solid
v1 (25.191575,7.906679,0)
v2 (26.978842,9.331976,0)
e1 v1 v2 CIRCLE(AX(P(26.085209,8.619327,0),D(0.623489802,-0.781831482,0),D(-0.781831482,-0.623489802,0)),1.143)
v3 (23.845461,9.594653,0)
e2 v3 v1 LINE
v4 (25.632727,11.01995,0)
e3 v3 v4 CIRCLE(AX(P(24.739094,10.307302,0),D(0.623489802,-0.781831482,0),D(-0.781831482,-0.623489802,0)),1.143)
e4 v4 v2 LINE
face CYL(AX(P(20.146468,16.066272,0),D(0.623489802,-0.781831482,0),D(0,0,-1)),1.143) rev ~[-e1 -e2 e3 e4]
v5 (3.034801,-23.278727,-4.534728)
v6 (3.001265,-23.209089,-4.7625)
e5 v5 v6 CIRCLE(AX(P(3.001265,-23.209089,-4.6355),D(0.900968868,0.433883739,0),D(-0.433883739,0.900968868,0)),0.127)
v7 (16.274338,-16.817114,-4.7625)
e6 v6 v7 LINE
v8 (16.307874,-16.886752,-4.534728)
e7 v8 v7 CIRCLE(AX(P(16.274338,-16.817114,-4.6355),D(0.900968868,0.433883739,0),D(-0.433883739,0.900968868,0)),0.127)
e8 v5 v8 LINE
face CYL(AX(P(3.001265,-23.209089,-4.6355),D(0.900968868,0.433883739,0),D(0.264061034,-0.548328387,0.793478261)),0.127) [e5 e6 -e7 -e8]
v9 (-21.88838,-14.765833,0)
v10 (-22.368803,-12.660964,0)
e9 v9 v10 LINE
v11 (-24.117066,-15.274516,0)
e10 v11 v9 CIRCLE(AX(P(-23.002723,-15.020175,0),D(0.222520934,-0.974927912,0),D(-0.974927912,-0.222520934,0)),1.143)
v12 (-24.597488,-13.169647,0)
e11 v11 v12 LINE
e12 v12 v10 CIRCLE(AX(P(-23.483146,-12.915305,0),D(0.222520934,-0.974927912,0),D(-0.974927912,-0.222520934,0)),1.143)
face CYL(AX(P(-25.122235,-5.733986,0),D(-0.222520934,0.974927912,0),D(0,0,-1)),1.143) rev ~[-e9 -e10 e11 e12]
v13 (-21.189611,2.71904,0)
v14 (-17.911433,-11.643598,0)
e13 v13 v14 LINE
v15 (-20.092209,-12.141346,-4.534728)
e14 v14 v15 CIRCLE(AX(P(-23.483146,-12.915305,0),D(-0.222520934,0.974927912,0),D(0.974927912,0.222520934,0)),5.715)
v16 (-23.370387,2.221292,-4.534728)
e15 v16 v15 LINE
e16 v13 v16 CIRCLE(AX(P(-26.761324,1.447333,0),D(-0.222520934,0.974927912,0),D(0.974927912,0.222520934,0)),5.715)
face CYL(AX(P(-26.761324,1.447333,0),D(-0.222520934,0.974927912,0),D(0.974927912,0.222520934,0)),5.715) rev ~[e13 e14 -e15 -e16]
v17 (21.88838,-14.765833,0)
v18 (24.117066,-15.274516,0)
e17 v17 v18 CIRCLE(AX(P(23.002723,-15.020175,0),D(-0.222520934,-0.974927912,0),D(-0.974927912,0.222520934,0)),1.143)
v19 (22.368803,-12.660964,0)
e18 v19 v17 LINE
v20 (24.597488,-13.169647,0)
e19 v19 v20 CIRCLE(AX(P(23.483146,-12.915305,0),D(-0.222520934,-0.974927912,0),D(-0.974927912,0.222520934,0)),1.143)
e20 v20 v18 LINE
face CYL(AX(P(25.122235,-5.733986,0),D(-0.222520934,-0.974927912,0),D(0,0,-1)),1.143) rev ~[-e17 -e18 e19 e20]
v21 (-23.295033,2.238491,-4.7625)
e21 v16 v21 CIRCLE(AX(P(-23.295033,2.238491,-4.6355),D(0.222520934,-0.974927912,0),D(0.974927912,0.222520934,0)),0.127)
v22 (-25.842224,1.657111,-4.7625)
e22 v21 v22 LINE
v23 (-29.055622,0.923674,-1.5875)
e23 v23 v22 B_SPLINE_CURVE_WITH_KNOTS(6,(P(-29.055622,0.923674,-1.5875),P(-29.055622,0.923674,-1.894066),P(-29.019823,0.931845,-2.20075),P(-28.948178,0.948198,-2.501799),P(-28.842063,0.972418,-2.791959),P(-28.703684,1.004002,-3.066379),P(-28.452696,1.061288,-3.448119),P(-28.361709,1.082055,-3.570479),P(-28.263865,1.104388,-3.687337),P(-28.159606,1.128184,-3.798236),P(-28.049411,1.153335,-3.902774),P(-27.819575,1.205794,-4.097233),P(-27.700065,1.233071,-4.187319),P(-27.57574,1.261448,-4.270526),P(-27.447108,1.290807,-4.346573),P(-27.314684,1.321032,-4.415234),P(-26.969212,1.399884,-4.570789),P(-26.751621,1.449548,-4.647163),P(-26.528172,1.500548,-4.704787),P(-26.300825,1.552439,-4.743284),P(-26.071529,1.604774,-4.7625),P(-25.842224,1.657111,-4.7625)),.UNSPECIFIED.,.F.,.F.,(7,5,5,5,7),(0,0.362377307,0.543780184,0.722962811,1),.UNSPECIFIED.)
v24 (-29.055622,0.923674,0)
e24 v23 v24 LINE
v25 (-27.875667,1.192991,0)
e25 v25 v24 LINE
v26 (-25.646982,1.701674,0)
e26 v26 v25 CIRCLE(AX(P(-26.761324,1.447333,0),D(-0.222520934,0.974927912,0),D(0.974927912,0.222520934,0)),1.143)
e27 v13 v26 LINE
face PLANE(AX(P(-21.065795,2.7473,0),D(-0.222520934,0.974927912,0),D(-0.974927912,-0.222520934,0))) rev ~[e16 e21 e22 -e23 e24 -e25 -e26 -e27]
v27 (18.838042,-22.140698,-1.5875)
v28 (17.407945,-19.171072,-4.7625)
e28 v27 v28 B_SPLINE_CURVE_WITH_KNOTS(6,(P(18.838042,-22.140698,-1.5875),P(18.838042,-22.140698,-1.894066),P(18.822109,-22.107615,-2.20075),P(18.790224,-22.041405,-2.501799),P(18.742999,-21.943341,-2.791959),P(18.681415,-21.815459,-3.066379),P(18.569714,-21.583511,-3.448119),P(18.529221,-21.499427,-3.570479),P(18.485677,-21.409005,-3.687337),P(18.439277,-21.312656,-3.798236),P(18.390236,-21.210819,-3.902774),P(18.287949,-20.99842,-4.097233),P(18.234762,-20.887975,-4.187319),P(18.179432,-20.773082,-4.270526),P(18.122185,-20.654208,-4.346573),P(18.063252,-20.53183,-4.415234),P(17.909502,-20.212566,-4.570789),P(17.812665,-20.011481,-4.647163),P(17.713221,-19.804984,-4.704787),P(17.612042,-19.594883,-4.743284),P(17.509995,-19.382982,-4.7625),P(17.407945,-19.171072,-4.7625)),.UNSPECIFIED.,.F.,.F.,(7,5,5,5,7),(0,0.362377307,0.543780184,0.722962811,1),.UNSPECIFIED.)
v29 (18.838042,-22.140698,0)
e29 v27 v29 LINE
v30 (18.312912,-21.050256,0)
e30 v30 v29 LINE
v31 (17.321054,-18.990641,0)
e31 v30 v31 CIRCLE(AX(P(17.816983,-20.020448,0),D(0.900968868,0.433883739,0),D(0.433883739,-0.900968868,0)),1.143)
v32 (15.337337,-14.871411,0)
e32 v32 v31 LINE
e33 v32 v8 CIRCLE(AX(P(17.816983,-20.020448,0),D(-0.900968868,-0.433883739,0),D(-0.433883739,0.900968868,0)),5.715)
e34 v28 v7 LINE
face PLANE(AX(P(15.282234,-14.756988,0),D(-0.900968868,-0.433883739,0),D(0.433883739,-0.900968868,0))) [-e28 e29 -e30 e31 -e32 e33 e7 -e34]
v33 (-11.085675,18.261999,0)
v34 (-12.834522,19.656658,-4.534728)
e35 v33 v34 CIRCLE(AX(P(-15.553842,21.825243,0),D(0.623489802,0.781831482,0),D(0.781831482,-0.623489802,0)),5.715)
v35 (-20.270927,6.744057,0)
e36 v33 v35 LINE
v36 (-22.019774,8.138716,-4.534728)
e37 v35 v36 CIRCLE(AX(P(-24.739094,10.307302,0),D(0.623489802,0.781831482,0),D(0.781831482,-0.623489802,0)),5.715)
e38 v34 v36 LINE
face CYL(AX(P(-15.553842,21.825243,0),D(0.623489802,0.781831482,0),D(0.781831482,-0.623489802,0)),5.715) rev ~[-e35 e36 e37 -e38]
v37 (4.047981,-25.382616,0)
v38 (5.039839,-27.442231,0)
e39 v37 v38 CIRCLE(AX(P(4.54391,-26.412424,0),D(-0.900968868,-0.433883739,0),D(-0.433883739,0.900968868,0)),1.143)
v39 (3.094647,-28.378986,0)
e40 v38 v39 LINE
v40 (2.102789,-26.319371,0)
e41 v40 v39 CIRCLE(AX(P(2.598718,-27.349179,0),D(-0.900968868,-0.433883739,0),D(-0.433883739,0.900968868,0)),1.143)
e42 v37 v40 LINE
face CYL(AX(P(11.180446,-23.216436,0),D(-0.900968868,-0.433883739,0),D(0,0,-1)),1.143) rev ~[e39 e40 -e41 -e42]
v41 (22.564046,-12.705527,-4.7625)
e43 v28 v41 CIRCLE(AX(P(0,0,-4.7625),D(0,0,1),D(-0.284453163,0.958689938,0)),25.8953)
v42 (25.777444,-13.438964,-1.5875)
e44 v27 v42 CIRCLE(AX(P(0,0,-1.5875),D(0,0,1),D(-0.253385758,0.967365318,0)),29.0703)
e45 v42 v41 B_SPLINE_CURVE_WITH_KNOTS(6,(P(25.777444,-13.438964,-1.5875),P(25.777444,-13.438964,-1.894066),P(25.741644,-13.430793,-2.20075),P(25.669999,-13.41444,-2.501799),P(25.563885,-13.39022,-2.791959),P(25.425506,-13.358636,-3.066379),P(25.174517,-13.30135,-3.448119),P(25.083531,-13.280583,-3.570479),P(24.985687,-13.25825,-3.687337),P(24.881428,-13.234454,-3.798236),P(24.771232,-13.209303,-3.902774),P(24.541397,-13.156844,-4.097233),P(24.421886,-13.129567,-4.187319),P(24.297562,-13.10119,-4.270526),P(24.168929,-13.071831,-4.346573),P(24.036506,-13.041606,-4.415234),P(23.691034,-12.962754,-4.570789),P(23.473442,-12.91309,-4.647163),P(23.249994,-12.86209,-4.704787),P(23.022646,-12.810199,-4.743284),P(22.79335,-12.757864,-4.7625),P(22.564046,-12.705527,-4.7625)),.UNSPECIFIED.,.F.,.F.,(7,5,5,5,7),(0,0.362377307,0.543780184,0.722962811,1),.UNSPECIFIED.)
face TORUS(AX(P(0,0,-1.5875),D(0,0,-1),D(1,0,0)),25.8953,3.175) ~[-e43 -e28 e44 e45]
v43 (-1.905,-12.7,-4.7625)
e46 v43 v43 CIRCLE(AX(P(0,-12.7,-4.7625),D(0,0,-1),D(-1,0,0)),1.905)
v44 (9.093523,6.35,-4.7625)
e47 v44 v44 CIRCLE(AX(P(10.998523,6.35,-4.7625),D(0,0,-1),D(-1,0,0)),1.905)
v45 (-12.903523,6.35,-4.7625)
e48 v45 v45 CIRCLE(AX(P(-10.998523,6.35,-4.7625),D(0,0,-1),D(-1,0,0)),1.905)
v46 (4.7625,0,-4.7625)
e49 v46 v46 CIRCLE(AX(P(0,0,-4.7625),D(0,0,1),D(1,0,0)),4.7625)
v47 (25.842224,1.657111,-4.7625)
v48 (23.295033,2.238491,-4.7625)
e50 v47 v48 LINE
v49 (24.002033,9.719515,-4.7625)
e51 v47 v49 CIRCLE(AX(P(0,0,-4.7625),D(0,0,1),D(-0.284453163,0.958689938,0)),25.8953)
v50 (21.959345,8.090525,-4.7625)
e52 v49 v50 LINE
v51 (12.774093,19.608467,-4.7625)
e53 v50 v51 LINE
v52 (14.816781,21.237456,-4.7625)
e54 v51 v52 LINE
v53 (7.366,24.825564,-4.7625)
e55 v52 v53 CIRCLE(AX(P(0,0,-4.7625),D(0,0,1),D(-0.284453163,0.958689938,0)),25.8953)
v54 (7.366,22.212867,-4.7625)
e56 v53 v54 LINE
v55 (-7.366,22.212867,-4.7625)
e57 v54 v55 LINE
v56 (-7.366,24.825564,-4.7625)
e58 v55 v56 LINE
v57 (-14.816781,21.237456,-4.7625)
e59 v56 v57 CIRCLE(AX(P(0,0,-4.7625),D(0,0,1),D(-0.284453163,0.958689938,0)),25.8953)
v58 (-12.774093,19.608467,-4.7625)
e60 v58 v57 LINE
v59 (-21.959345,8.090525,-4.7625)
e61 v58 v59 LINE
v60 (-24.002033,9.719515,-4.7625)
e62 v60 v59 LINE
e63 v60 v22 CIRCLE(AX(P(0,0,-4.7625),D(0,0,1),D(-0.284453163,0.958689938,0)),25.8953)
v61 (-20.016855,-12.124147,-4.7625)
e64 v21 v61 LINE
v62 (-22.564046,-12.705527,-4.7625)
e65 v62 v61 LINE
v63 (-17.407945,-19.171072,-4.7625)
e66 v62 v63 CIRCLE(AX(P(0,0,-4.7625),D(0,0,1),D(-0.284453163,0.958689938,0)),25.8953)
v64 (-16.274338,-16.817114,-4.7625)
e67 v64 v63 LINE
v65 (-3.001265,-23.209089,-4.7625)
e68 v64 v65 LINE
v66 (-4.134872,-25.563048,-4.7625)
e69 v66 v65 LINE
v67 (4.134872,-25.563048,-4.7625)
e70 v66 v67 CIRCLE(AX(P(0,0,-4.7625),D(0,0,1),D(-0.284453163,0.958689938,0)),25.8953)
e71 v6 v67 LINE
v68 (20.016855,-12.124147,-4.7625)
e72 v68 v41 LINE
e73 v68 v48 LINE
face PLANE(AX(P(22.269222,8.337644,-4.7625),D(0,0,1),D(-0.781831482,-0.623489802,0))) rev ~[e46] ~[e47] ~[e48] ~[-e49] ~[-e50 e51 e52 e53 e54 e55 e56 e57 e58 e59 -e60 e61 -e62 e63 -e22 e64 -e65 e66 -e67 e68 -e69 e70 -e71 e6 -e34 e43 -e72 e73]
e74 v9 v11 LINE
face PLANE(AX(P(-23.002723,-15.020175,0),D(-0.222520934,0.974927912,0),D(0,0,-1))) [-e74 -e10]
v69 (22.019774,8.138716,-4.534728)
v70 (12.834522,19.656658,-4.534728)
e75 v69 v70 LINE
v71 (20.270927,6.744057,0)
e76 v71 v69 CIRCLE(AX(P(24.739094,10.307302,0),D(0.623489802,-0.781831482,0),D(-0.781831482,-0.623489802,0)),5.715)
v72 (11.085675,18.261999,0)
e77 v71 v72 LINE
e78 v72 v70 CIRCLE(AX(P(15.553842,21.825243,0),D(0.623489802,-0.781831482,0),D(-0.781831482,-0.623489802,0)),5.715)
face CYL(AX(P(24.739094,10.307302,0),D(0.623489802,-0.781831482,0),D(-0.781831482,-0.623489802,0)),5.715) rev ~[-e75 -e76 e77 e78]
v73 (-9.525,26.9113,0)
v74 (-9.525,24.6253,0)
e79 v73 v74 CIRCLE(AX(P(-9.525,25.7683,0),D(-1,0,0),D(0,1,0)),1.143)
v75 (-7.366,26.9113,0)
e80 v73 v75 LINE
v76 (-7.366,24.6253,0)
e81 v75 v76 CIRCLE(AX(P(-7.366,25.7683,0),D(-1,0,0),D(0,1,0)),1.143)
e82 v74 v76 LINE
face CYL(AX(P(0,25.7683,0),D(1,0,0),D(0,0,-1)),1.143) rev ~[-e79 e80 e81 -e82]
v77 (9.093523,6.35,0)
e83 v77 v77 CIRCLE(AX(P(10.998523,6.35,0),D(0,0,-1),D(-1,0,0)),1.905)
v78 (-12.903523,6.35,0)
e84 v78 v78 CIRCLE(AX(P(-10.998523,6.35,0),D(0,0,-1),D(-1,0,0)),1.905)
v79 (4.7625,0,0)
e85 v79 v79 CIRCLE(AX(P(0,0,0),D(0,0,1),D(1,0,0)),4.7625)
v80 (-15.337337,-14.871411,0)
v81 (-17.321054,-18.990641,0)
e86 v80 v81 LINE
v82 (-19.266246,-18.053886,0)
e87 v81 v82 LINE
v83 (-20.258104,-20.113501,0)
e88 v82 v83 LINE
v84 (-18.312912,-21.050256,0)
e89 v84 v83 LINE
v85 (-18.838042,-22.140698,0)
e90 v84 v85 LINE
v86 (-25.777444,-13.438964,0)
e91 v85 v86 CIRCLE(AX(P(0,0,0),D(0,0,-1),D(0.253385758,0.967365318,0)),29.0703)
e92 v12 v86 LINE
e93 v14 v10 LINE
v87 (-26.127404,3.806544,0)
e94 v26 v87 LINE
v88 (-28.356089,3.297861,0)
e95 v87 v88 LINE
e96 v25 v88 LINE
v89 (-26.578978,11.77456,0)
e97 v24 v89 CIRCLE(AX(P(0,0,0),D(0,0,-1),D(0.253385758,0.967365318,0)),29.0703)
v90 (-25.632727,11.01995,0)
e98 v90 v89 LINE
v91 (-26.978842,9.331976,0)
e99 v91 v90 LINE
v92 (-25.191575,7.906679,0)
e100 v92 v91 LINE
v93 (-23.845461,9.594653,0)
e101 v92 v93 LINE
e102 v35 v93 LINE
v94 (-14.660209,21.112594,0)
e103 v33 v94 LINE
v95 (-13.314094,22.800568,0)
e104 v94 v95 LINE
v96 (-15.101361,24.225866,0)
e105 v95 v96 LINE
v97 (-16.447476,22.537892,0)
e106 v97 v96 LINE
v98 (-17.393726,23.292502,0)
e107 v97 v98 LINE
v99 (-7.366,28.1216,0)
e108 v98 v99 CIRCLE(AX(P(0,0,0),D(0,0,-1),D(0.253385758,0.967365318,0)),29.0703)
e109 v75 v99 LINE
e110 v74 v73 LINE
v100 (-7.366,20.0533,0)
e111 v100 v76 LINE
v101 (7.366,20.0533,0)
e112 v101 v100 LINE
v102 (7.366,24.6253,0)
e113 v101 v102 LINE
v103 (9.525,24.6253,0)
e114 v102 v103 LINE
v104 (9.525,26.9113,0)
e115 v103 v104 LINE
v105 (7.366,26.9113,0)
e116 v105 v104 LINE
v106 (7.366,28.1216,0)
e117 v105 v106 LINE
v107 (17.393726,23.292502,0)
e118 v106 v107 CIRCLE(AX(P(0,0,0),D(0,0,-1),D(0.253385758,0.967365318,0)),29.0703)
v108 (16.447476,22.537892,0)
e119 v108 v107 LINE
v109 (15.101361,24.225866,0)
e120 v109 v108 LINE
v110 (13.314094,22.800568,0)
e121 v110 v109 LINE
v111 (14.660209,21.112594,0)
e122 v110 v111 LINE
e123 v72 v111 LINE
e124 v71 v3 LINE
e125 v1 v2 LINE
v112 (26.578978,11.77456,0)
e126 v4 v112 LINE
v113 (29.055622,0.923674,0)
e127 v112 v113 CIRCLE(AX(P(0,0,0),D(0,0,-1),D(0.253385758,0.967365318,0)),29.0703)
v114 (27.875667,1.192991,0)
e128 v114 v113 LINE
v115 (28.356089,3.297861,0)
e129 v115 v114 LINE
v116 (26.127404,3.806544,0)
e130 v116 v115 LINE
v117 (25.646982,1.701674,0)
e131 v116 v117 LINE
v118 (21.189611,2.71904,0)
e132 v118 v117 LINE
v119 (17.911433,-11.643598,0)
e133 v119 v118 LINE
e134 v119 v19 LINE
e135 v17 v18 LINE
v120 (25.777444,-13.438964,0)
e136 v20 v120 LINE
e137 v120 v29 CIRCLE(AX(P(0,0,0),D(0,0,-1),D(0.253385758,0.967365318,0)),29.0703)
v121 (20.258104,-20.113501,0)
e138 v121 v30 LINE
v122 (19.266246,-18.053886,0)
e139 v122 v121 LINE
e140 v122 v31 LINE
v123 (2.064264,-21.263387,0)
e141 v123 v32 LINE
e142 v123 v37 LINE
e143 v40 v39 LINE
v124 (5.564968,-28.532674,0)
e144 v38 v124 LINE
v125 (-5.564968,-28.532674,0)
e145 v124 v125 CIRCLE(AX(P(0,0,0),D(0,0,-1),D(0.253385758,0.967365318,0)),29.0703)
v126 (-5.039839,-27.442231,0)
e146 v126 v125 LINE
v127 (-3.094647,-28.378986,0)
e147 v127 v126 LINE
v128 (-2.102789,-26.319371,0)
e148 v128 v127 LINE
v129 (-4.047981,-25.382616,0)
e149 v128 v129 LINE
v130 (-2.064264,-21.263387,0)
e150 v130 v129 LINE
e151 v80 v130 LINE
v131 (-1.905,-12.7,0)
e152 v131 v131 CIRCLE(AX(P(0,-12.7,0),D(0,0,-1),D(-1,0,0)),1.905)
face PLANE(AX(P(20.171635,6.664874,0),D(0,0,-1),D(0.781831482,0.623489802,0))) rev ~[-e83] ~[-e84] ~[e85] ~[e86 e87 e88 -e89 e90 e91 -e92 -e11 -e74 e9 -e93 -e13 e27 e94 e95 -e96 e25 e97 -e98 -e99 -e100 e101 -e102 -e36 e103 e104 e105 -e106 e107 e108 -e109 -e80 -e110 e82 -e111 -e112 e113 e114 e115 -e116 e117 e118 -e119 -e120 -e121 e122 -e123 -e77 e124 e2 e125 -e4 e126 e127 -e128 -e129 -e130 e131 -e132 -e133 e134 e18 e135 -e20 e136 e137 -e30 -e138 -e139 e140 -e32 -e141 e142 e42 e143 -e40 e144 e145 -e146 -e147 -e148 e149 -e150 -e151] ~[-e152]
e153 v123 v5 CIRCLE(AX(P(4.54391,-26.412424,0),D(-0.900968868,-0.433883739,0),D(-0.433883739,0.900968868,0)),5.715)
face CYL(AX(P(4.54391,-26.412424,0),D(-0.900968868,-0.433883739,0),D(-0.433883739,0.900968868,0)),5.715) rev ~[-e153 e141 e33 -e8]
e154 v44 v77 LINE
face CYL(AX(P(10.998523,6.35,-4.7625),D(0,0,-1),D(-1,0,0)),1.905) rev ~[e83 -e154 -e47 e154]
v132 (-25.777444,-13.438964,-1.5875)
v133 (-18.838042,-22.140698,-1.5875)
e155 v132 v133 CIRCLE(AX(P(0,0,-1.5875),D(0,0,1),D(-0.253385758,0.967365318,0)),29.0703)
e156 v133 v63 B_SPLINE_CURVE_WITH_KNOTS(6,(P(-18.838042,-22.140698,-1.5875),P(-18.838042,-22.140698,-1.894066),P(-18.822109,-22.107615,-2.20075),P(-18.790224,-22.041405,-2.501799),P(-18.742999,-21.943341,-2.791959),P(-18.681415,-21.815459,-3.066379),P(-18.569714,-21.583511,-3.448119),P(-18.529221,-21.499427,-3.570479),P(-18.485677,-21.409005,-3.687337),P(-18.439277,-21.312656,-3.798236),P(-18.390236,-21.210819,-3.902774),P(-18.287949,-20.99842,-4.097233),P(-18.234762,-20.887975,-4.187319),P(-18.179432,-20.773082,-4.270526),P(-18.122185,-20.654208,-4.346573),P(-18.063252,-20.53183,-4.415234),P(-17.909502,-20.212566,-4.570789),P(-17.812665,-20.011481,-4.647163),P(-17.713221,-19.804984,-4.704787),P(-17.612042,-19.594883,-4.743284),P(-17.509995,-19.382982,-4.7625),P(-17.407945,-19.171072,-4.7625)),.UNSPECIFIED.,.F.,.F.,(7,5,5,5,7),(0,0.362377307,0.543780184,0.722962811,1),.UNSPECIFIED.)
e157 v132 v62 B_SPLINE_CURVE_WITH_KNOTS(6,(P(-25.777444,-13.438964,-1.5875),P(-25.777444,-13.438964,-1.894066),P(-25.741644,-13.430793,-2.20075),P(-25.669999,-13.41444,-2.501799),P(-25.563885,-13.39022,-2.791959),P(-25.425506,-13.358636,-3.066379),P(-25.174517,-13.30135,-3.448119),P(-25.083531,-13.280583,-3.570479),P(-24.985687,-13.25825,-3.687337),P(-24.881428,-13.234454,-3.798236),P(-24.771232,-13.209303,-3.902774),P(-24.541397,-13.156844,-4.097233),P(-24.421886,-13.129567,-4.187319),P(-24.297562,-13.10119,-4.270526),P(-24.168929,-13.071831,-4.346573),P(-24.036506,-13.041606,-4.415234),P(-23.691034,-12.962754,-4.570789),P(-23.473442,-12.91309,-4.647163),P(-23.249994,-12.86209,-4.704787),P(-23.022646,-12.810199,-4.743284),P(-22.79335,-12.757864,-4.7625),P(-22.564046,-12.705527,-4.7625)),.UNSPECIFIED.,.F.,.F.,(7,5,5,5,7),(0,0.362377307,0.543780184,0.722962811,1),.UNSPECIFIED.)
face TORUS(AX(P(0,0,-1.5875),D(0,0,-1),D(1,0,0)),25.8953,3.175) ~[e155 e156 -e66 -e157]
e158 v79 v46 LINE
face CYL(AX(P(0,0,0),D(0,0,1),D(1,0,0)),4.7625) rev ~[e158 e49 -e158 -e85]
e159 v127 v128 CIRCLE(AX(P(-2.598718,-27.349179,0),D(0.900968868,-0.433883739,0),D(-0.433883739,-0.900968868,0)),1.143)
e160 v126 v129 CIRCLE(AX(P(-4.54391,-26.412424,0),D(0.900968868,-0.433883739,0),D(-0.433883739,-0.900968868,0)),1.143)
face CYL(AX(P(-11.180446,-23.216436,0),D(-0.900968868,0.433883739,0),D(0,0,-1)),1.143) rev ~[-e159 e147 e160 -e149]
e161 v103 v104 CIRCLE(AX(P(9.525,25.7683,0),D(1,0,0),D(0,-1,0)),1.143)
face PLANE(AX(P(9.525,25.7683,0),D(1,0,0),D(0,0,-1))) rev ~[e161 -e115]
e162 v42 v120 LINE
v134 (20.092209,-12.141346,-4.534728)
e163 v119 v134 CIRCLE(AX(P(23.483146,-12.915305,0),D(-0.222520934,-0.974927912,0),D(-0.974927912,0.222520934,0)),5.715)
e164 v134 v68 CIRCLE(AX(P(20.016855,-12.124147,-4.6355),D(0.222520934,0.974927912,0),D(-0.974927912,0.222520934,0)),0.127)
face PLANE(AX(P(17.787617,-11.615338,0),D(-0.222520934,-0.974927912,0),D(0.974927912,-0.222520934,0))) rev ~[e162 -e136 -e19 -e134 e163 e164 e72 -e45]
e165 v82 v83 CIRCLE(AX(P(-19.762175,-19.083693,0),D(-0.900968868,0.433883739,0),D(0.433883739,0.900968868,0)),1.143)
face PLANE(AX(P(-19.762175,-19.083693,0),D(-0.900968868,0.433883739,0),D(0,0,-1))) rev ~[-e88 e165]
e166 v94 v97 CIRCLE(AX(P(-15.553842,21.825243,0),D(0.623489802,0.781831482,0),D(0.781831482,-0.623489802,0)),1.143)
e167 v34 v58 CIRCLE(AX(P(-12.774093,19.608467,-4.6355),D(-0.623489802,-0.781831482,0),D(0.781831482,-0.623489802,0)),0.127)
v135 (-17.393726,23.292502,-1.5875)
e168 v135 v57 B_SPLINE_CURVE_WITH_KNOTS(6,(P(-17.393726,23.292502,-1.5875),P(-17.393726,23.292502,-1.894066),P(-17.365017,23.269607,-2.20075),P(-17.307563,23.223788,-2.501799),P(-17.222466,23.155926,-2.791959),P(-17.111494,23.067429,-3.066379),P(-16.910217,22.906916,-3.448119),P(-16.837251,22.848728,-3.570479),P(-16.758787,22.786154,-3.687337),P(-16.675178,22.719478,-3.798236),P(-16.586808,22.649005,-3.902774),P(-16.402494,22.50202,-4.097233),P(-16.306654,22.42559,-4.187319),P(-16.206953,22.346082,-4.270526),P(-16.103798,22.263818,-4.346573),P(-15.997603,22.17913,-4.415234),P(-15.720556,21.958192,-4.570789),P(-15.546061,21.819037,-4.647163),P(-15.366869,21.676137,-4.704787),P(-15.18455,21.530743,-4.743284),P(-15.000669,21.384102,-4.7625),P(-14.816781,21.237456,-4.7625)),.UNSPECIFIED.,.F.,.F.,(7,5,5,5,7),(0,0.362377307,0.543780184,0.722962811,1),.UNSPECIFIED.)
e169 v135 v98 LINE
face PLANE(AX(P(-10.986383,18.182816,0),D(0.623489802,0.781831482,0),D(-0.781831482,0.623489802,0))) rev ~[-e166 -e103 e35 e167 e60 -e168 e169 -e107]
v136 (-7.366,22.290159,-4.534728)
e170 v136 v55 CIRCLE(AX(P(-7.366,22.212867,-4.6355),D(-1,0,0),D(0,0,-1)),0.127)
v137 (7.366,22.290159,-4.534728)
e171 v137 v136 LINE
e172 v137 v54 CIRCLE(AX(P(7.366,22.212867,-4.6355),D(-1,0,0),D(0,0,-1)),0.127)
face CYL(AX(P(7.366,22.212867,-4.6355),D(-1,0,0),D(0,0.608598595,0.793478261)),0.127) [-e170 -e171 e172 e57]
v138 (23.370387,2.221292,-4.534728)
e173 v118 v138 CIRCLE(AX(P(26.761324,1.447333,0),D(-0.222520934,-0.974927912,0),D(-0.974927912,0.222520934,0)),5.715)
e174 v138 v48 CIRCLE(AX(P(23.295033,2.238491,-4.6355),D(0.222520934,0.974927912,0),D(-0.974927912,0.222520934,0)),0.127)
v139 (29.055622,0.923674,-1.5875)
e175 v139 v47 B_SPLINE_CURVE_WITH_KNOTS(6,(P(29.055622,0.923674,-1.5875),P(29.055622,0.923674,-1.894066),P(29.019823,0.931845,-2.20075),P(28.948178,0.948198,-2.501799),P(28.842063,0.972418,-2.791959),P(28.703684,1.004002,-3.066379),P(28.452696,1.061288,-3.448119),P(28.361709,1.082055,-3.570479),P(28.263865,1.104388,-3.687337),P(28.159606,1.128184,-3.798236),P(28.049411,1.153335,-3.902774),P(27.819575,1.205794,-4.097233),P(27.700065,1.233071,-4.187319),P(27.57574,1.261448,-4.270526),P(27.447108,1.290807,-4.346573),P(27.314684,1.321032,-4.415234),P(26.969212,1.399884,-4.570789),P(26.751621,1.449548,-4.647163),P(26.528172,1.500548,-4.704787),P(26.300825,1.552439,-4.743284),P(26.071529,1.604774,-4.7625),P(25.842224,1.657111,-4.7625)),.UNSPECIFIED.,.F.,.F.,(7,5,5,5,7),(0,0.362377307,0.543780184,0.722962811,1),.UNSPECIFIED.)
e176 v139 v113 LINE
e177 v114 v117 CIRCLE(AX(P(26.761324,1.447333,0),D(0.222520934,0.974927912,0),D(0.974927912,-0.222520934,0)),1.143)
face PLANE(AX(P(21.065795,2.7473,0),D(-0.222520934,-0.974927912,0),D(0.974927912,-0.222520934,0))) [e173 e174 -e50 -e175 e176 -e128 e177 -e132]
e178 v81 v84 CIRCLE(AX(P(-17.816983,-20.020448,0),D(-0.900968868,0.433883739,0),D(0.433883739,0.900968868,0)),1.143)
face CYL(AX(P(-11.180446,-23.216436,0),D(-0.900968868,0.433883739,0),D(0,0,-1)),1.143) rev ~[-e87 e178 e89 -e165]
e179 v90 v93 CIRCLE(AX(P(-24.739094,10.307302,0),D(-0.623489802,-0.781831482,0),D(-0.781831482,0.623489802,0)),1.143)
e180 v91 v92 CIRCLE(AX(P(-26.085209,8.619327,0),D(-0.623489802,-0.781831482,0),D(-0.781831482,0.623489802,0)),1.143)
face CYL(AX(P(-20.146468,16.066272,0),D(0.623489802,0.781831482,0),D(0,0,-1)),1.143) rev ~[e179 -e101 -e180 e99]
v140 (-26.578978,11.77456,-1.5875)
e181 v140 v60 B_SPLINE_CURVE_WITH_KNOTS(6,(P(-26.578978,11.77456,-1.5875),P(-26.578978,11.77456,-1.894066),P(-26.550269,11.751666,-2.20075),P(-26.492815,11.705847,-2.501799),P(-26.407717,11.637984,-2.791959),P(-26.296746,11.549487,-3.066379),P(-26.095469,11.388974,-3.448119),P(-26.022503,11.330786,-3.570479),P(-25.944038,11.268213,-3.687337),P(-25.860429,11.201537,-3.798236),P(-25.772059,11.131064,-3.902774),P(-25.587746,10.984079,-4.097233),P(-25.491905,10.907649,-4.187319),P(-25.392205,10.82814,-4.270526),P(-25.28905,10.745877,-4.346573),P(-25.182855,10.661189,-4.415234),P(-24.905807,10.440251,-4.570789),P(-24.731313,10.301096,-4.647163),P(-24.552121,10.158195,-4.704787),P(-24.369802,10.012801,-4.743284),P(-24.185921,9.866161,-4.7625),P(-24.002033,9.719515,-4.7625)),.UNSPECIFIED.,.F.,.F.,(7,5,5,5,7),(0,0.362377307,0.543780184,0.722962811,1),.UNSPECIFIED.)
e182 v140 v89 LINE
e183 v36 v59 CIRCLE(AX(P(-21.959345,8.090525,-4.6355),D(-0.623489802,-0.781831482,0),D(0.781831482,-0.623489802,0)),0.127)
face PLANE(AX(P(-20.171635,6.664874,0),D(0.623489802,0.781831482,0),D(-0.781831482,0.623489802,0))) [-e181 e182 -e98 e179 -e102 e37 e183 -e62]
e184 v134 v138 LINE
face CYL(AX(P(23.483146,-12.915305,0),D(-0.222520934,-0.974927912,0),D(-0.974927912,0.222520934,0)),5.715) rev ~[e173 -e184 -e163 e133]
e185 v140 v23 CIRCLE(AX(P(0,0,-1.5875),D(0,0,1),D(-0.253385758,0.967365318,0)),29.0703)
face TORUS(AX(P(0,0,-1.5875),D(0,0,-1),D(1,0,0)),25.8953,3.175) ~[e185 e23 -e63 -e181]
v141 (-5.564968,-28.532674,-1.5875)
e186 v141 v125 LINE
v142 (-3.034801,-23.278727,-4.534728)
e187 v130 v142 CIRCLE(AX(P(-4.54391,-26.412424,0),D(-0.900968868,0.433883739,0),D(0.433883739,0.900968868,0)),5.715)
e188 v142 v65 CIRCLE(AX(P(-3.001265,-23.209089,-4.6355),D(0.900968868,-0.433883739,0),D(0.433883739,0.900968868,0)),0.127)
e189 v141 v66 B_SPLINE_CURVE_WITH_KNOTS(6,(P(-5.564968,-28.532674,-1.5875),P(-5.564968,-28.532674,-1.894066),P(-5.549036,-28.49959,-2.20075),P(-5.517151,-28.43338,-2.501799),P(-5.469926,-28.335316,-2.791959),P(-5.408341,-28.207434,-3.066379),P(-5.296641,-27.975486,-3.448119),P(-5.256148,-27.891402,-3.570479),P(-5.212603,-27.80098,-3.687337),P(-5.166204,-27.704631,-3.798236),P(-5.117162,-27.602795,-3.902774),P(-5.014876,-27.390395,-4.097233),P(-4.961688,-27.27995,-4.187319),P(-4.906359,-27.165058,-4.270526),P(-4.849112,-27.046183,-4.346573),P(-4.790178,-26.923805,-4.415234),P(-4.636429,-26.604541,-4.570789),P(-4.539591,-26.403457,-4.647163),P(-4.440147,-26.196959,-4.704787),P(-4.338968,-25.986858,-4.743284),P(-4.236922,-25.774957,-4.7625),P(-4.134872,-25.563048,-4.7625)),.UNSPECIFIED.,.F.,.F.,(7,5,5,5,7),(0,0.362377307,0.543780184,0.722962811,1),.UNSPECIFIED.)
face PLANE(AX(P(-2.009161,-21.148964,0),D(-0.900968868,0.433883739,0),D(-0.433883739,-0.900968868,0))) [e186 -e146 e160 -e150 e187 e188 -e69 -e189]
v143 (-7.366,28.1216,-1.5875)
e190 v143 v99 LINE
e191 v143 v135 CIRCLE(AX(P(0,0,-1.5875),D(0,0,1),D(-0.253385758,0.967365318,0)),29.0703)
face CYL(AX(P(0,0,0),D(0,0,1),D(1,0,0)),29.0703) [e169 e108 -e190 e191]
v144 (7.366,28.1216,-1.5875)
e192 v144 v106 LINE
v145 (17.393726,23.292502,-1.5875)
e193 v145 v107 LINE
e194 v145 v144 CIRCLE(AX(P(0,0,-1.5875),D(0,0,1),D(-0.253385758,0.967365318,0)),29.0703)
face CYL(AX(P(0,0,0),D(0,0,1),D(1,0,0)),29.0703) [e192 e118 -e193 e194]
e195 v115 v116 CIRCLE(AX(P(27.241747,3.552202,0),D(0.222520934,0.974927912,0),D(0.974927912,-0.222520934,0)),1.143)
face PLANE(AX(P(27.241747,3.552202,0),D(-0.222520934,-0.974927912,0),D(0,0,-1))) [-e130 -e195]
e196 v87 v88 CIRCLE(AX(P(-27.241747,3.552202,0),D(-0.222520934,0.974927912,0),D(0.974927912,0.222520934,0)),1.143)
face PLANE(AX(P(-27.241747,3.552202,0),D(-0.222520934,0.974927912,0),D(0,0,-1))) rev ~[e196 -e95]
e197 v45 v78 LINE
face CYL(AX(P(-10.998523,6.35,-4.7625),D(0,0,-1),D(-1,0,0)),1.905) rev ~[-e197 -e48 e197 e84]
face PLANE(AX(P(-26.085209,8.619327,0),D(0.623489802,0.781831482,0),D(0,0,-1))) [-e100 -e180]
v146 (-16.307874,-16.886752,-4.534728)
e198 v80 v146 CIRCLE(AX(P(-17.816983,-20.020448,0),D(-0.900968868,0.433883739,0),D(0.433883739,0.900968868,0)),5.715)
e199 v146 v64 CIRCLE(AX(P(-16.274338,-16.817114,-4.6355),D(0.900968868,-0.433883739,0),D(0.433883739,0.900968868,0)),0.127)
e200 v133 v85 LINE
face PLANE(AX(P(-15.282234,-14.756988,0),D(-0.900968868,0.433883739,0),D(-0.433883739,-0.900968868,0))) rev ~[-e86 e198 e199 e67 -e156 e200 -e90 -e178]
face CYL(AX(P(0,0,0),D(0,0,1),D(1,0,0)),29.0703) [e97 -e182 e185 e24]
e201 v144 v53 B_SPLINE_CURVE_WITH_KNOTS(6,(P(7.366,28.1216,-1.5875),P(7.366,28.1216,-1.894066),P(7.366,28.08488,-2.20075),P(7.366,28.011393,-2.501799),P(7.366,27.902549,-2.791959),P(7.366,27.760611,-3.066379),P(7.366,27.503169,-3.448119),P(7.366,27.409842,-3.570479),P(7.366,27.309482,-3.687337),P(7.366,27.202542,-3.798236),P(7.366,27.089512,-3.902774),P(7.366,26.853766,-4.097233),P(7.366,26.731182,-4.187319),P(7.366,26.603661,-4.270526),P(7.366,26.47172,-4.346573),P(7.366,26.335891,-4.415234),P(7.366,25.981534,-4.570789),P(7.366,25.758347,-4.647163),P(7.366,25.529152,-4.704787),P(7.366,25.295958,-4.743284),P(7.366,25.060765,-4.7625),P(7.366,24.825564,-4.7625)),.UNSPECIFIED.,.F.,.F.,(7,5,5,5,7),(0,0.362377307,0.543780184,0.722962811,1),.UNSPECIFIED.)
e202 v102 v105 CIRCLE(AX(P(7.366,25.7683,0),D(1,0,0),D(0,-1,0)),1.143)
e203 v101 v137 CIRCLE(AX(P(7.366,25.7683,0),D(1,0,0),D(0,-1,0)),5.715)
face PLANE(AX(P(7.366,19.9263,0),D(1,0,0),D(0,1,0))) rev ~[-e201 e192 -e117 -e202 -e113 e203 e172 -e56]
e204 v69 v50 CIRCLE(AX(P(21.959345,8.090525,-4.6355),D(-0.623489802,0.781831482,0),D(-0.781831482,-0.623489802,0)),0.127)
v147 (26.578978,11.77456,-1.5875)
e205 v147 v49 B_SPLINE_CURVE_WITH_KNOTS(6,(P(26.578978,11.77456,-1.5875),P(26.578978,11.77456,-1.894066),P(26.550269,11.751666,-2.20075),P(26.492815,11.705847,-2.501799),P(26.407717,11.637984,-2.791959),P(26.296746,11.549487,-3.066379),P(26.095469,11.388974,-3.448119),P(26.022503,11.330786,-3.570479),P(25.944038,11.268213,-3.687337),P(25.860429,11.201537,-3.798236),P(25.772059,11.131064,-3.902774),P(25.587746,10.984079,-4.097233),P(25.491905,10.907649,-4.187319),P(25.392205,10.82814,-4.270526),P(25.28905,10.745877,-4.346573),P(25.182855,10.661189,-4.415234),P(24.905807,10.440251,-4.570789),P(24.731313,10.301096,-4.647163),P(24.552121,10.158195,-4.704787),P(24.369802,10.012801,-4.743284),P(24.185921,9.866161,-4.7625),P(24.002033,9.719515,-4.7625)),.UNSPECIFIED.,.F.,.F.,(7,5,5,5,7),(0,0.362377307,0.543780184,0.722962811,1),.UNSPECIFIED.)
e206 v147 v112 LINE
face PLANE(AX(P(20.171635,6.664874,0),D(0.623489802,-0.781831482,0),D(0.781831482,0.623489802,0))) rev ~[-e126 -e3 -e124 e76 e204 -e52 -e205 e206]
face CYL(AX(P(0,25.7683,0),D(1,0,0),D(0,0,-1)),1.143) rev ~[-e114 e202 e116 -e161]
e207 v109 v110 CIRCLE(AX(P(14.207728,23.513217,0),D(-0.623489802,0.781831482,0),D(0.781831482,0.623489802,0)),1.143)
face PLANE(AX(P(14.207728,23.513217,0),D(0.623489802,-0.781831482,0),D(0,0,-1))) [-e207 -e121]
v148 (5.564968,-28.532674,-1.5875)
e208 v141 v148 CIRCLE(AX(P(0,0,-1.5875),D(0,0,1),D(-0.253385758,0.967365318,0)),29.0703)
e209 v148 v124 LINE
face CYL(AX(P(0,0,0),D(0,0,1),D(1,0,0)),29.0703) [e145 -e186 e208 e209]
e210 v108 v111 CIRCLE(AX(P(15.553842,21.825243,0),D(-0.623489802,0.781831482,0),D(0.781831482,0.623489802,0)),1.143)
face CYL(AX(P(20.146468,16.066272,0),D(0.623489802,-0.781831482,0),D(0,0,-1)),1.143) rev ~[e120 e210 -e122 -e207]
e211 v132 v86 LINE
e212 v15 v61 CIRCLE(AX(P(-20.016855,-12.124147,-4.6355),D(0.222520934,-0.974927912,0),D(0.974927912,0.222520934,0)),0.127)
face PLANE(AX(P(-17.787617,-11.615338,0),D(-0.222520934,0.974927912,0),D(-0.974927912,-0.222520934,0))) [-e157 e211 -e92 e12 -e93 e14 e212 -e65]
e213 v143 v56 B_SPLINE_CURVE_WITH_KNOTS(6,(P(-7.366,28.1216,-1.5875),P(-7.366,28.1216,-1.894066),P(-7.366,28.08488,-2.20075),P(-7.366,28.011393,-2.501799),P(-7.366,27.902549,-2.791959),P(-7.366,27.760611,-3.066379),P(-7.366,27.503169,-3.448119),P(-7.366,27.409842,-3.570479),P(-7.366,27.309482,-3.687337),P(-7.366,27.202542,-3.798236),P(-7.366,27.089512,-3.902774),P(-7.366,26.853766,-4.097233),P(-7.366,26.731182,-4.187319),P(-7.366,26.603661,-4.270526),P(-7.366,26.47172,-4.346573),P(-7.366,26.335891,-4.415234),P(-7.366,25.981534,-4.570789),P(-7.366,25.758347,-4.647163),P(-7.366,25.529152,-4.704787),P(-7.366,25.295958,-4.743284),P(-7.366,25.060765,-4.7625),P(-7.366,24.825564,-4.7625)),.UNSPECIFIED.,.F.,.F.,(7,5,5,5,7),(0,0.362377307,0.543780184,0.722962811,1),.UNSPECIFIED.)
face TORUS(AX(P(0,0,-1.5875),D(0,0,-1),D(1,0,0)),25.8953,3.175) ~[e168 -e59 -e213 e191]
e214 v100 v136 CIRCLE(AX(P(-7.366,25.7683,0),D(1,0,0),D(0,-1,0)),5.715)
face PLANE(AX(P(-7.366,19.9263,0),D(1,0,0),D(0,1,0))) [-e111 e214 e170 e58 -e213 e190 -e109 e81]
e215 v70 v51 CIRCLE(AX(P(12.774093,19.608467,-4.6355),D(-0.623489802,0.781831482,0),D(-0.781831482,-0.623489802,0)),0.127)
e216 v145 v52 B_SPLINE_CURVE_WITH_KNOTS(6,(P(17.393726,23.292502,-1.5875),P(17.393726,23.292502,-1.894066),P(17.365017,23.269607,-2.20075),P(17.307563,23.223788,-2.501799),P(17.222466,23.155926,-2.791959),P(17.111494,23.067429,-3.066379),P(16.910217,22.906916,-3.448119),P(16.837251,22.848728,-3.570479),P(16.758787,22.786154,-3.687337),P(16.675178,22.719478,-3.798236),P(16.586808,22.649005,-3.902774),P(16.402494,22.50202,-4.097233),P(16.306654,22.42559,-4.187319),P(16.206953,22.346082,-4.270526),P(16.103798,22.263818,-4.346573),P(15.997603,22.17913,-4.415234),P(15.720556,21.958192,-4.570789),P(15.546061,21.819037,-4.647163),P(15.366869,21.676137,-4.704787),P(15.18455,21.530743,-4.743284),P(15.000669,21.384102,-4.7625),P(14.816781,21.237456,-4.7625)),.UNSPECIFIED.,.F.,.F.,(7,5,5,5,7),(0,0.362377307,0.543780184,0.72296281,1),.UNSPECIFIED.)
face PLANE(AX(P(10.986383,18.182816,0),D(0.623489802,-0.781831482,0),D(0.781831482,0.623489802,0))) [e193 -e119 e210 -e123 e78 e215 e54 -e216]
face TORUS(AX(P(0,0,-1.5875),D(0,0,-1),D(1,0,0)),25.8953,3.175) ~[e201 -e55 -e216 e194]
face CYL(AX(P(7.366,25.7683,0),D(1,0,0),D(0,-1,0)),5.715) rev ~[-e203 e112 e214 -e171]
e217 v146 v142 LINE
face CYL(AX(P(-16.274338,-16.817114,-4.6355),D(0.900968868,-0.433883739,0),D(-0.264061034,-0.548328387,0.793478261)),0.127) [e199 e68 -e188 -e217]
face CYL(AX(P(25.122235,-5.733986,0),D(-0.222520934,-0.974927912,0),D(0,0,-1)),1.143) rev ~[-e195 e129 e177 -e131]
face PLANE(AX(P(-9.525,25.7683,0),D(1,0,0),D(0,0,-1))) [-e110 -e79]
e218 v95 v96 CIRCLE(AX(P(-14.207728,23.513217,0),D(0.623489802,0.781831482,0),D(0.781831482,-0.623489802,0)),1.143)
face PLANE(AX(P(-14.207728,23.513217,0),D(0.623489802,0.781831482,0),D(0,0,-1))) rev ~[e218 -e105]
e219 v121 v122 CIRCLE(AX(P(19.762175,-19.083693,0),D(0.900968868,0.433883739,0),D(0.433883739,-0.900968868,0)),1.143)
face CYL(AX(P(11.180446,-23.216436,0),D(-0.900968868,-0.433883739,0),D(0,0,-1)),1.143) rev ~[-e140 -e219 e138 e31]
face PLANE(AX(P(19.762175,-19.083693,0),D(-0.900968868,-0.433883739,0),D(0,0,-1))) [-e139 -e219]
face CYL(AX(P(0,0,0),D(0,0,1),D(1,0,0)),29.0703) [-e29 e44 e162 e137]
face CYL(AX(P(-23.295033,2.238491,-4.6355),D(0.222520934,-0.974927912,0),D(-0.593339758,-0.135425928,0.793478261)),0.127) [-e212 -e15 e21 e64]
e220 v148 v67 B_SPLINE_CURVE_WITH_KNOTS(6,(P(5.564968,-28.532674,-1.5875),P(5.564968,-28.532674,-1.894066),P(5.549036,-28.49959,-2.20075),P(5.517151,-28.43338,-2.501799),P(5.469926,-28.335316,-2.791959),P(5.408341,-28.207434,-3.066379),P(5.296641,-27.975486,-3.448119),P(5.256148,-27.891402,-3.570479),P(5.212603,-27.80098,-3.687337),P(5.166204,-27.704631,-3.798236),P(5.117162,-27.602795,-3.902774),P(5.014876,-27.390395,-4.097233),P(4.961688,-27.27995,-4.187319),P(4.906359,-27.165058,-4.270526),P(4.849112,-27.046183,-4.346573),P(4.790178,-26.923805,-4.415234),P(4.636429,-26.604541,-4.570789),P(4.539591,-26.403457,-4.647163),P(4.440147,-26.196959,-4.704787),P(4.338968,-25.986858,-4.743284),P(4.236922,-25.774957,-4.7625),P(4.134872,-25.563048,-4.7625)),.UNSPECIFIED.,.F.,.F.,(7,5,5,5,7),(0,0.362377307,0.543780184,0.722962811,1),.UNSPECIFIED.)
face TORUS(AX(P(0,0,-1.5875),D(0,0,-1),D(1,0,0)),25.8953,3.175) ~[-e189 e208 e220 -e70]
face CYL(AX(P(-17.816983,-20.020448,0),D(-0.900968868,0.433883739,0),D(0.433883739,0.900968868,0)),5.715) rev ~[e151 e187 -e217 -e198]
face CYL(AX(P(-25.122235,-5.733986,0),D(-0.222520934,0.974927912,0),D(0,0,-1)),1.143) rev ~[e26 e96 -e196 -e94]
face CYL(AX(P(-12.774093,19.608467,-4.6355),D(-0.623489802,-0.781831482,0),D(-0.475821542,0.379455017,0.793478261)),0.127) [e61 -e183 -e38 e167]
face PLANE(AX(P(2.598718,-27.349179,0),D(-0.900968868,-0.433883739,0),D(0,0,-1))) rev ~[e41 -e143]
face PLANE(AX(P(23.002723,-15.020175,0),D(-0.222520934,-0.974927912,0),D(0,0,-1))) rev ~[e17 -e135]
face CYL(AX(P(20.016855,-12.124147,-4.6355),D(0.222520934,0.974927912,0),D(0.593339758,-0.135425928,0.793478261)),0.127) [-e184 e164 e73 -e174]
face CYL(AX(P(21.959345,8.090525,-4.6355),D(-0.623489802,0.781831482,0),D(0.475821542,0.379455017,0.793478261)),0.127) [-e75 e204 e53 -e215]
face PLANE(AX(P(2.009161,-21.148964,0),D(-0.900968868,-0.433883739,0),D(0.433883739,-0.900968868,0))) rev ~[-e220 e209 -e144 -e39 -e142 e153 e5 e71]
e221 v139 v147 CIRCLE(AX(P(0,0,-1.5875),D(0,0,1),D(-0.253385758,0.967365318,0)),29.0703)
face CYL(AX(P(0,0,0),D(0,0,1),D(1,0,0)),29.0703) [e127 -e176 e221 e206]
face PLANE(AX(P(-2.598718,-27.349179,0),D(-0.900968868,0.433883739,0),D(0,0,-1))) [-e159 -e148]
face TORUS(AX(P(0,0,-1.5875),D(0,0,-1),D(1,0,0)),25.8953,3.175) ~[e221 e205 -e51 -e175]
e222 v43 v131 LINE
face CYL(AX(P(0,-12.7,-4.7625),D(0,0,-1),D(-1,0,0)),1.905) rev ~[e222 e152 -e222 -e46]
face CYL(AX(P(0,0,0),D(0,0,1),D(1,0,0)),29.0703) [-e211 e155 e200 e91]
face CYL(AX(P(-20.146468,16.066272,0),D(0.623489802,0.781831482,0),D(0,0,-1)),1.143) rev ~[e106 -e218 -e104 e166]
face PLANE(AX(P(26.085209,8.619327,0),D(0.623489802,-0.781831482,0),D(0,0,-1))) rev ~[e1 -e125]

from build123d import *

# Parameters (mm, degrees)
SKETCH1_R                = 29.0703
BOSS_EXTRUDE2_DEPTH      = 4.7625
FILLET1_R                = 3.175
SKETCH2_W                = 14.732
SKETCH2_H                = 10.414
CUT_EXTRUDE2_DEPTH       = 12.7
CIRPATTERN1_COUNT        = 7
SKETCH4_R                = 1.143
CUT_EXTRUDE4_DEPTH       = 9.525
CIRPATTERN2_COUNT        = 7
SKETCH6_R                = 1.905
CUT_EXTRUDE7_DEPTH       = 42.376236281
BOSS_EXTRUDE4_REACH      = 48.843
FILLET2_R                = 0.127
CIRPATTERN5_COUNT        = 7
FILLET2_OF_CIRPATTERN5_R = 0.127
CUT_EXTRUDE9_REACH       = 43.376
SKETCH5_R                = 4.7625


with BuildPart() as part:
    # Sketch1 → Boss-Extrude2 (new body)
    with BuildSketch(Plane.XY):
        Circle(SKETCH1_R)
    extrude(amount=-BOSS_EXTRUDE2_DEPTH)

    # Fillet1
    fillet1_edges = [part.edges().sort_by_distance(p)[0] for p in [
        (-29.0703, 0, -4.7625),
    ]]
    fillet(fillet1_edges, radius=FILLET1_R)

    # Sketch2 → Cut-Extrude2 (cut)
    with BuildSketch(Plane.XY):
        with Locations((0, 25.1333)):
            Rectangle(SKETCH2_W, SKETCH2_H)
    cut_extrude2 = extrude(amount=-CUT_EXTRUDE2_DEPTH, mode=Mode.SUBTRACT)

    # CirPattern1: Cut-Extrude2 ×7 about axis
    cirpattern1_axis = Axis((0, 0, 0), (0, 0, 1))
    for i in range(1, CIRPATTERN1_COUNT):
        add(cut_extrude2.rotate(cirpattern1_axis, i * 360 / CIRPATTERN1_COUNT), mode=Mode.SUBTRACT)

    # Sketch4 → Cut-Extrude4 (cut, symmetric)
    with BuildSketch(Plane(origin=(0, 0, 0), x_dir=(0, 0, -1), z_dir=(1, 0, 0))):
        with Locations((0, 25.7683)):
            Circle(SKETCH4_R)
    cut_extrude4 = extrude(amount=CUT_EXTRUDE4_DEPTH, both=True, mode=Mode.SUBTRACT)

    # CirPattern2: Cut-Extrude4 ×7 about axis
    cirpattern2_axis = Axis((0, 0, 0), (0, 0, 1))
    for i in range(1, CIRPATTERN2_COUNT):
        add(cut_extrude4.rotate(cirpattern2_axis, i * 360 / CIRPATTERN2_COUNT), mode=Mode.SUBTRACT)

    # Sketch6 → Cut-Extrude7 (cut, through all)
    with BuildSketch(Plane(origin=(0, 0, -4.7625), x_dir=(-1, 0, 0), z_dir=(0, 0, -1))):
        with Locations((0, -12.7)):
            Circle(SKETCH6_R)
        with Locations((-10.998522628, 6.35)):
            Circle(SKETCH6_R)
        with Locations((10.998522628, 6.35)):
            Circle(SKETCH6_R)
    extrude(amount=-CUT_EXTRUDE7_DEPTH, mode=Mode.SUBTRACT)

    # Sketch10 → Boss-Extrude4 (add, up to next)
    with BuildSketch(Plane.ZY.offset(-7.366), mode=Mode.PRIVATE) as boss_extrude4_sk1:
        with BuildLine():
            Line((-4.7625, 19.9263), (0, 19.9263))
            Line((0, 19.9263), (0, 20.0533))
            ThreePointArc((0, 20.0533), (-2.7025038, 20.73265722), (-4.7625, 22.609214887))
            Line((-4.7625, 22.609214887), (-4.7625, 19.9263))
        make_face()
    boss_extrude4_tool1 = extrude(boss_extrude4_sk1.sketch, amount=BOSS_EXTRUDE4_REACH, mode=Mode.PRIVATE) - part.part
    boss_extrude4 = boss_extrude4_tool1.solids().sort_by_distance((7.366, 20.664807, -3.452063))[0]
    add(boss_extrude4)

    # Fillet2
    fillet2_edges = [part.edges().sort_by_distance(p)[0] for p in [
        (0, 22.609214887, -4.7625),
    ]]
    fillet(fillet2_edges, radius=FILLET2_R)

    # CirPattern5: Boss-Extrude4 ×7 about axis
    cirpattern5_axis = Axis((0, 0, 0), (0, 0, 1))
    for i in range(1, CIRPATTERN5_COUNT):
        add(boss_extrude4.rotate(cirpattern5_axis, i * 360 / CIRPATTERN5_COUNT))

    # Fillet2 of CirPattern5
    fillet2_of_cirpattern5_edges = [part.edges().sort_by_distance(p)[0] for p in [
        (-17.676595993, 14.09661491, -4.7625),
        (-22.042354666, -5.031023613, -4.7625),
        (-9.809770694, -20.370198741, -4.7625),
        (9.809770694, -20.370198741, -4.7625),
        (22.042354666, -5.031023613, -4.7625),
        (17.676595993, 14.09661491, -4.7625),
    ]]
    fillet(fillet2_of_cirpattern5_edges, radius=FILLET2_OF_CIRPATTERN5_R)

    # Sketch5 → Cut-Extrude9 (cut, up to next)
    with BuildSketch(Plane.XY, mode=Mode.PRIVATE) as cut_extrude9_sk1:
        Circle(SKETCH5_R)
    cut_extrude9_tool1 = extrude(cut_extrude9_sk1.sketch, amount=-CUT_EXTRUDE9_REACH, mode=Mode.PRIVATE) & part.part
    add(cut_extrude9_tool1.solids().sort_by_distance((0, 0, 0))[0], mode=Mode.SUBTRACT)


solid = part.part
